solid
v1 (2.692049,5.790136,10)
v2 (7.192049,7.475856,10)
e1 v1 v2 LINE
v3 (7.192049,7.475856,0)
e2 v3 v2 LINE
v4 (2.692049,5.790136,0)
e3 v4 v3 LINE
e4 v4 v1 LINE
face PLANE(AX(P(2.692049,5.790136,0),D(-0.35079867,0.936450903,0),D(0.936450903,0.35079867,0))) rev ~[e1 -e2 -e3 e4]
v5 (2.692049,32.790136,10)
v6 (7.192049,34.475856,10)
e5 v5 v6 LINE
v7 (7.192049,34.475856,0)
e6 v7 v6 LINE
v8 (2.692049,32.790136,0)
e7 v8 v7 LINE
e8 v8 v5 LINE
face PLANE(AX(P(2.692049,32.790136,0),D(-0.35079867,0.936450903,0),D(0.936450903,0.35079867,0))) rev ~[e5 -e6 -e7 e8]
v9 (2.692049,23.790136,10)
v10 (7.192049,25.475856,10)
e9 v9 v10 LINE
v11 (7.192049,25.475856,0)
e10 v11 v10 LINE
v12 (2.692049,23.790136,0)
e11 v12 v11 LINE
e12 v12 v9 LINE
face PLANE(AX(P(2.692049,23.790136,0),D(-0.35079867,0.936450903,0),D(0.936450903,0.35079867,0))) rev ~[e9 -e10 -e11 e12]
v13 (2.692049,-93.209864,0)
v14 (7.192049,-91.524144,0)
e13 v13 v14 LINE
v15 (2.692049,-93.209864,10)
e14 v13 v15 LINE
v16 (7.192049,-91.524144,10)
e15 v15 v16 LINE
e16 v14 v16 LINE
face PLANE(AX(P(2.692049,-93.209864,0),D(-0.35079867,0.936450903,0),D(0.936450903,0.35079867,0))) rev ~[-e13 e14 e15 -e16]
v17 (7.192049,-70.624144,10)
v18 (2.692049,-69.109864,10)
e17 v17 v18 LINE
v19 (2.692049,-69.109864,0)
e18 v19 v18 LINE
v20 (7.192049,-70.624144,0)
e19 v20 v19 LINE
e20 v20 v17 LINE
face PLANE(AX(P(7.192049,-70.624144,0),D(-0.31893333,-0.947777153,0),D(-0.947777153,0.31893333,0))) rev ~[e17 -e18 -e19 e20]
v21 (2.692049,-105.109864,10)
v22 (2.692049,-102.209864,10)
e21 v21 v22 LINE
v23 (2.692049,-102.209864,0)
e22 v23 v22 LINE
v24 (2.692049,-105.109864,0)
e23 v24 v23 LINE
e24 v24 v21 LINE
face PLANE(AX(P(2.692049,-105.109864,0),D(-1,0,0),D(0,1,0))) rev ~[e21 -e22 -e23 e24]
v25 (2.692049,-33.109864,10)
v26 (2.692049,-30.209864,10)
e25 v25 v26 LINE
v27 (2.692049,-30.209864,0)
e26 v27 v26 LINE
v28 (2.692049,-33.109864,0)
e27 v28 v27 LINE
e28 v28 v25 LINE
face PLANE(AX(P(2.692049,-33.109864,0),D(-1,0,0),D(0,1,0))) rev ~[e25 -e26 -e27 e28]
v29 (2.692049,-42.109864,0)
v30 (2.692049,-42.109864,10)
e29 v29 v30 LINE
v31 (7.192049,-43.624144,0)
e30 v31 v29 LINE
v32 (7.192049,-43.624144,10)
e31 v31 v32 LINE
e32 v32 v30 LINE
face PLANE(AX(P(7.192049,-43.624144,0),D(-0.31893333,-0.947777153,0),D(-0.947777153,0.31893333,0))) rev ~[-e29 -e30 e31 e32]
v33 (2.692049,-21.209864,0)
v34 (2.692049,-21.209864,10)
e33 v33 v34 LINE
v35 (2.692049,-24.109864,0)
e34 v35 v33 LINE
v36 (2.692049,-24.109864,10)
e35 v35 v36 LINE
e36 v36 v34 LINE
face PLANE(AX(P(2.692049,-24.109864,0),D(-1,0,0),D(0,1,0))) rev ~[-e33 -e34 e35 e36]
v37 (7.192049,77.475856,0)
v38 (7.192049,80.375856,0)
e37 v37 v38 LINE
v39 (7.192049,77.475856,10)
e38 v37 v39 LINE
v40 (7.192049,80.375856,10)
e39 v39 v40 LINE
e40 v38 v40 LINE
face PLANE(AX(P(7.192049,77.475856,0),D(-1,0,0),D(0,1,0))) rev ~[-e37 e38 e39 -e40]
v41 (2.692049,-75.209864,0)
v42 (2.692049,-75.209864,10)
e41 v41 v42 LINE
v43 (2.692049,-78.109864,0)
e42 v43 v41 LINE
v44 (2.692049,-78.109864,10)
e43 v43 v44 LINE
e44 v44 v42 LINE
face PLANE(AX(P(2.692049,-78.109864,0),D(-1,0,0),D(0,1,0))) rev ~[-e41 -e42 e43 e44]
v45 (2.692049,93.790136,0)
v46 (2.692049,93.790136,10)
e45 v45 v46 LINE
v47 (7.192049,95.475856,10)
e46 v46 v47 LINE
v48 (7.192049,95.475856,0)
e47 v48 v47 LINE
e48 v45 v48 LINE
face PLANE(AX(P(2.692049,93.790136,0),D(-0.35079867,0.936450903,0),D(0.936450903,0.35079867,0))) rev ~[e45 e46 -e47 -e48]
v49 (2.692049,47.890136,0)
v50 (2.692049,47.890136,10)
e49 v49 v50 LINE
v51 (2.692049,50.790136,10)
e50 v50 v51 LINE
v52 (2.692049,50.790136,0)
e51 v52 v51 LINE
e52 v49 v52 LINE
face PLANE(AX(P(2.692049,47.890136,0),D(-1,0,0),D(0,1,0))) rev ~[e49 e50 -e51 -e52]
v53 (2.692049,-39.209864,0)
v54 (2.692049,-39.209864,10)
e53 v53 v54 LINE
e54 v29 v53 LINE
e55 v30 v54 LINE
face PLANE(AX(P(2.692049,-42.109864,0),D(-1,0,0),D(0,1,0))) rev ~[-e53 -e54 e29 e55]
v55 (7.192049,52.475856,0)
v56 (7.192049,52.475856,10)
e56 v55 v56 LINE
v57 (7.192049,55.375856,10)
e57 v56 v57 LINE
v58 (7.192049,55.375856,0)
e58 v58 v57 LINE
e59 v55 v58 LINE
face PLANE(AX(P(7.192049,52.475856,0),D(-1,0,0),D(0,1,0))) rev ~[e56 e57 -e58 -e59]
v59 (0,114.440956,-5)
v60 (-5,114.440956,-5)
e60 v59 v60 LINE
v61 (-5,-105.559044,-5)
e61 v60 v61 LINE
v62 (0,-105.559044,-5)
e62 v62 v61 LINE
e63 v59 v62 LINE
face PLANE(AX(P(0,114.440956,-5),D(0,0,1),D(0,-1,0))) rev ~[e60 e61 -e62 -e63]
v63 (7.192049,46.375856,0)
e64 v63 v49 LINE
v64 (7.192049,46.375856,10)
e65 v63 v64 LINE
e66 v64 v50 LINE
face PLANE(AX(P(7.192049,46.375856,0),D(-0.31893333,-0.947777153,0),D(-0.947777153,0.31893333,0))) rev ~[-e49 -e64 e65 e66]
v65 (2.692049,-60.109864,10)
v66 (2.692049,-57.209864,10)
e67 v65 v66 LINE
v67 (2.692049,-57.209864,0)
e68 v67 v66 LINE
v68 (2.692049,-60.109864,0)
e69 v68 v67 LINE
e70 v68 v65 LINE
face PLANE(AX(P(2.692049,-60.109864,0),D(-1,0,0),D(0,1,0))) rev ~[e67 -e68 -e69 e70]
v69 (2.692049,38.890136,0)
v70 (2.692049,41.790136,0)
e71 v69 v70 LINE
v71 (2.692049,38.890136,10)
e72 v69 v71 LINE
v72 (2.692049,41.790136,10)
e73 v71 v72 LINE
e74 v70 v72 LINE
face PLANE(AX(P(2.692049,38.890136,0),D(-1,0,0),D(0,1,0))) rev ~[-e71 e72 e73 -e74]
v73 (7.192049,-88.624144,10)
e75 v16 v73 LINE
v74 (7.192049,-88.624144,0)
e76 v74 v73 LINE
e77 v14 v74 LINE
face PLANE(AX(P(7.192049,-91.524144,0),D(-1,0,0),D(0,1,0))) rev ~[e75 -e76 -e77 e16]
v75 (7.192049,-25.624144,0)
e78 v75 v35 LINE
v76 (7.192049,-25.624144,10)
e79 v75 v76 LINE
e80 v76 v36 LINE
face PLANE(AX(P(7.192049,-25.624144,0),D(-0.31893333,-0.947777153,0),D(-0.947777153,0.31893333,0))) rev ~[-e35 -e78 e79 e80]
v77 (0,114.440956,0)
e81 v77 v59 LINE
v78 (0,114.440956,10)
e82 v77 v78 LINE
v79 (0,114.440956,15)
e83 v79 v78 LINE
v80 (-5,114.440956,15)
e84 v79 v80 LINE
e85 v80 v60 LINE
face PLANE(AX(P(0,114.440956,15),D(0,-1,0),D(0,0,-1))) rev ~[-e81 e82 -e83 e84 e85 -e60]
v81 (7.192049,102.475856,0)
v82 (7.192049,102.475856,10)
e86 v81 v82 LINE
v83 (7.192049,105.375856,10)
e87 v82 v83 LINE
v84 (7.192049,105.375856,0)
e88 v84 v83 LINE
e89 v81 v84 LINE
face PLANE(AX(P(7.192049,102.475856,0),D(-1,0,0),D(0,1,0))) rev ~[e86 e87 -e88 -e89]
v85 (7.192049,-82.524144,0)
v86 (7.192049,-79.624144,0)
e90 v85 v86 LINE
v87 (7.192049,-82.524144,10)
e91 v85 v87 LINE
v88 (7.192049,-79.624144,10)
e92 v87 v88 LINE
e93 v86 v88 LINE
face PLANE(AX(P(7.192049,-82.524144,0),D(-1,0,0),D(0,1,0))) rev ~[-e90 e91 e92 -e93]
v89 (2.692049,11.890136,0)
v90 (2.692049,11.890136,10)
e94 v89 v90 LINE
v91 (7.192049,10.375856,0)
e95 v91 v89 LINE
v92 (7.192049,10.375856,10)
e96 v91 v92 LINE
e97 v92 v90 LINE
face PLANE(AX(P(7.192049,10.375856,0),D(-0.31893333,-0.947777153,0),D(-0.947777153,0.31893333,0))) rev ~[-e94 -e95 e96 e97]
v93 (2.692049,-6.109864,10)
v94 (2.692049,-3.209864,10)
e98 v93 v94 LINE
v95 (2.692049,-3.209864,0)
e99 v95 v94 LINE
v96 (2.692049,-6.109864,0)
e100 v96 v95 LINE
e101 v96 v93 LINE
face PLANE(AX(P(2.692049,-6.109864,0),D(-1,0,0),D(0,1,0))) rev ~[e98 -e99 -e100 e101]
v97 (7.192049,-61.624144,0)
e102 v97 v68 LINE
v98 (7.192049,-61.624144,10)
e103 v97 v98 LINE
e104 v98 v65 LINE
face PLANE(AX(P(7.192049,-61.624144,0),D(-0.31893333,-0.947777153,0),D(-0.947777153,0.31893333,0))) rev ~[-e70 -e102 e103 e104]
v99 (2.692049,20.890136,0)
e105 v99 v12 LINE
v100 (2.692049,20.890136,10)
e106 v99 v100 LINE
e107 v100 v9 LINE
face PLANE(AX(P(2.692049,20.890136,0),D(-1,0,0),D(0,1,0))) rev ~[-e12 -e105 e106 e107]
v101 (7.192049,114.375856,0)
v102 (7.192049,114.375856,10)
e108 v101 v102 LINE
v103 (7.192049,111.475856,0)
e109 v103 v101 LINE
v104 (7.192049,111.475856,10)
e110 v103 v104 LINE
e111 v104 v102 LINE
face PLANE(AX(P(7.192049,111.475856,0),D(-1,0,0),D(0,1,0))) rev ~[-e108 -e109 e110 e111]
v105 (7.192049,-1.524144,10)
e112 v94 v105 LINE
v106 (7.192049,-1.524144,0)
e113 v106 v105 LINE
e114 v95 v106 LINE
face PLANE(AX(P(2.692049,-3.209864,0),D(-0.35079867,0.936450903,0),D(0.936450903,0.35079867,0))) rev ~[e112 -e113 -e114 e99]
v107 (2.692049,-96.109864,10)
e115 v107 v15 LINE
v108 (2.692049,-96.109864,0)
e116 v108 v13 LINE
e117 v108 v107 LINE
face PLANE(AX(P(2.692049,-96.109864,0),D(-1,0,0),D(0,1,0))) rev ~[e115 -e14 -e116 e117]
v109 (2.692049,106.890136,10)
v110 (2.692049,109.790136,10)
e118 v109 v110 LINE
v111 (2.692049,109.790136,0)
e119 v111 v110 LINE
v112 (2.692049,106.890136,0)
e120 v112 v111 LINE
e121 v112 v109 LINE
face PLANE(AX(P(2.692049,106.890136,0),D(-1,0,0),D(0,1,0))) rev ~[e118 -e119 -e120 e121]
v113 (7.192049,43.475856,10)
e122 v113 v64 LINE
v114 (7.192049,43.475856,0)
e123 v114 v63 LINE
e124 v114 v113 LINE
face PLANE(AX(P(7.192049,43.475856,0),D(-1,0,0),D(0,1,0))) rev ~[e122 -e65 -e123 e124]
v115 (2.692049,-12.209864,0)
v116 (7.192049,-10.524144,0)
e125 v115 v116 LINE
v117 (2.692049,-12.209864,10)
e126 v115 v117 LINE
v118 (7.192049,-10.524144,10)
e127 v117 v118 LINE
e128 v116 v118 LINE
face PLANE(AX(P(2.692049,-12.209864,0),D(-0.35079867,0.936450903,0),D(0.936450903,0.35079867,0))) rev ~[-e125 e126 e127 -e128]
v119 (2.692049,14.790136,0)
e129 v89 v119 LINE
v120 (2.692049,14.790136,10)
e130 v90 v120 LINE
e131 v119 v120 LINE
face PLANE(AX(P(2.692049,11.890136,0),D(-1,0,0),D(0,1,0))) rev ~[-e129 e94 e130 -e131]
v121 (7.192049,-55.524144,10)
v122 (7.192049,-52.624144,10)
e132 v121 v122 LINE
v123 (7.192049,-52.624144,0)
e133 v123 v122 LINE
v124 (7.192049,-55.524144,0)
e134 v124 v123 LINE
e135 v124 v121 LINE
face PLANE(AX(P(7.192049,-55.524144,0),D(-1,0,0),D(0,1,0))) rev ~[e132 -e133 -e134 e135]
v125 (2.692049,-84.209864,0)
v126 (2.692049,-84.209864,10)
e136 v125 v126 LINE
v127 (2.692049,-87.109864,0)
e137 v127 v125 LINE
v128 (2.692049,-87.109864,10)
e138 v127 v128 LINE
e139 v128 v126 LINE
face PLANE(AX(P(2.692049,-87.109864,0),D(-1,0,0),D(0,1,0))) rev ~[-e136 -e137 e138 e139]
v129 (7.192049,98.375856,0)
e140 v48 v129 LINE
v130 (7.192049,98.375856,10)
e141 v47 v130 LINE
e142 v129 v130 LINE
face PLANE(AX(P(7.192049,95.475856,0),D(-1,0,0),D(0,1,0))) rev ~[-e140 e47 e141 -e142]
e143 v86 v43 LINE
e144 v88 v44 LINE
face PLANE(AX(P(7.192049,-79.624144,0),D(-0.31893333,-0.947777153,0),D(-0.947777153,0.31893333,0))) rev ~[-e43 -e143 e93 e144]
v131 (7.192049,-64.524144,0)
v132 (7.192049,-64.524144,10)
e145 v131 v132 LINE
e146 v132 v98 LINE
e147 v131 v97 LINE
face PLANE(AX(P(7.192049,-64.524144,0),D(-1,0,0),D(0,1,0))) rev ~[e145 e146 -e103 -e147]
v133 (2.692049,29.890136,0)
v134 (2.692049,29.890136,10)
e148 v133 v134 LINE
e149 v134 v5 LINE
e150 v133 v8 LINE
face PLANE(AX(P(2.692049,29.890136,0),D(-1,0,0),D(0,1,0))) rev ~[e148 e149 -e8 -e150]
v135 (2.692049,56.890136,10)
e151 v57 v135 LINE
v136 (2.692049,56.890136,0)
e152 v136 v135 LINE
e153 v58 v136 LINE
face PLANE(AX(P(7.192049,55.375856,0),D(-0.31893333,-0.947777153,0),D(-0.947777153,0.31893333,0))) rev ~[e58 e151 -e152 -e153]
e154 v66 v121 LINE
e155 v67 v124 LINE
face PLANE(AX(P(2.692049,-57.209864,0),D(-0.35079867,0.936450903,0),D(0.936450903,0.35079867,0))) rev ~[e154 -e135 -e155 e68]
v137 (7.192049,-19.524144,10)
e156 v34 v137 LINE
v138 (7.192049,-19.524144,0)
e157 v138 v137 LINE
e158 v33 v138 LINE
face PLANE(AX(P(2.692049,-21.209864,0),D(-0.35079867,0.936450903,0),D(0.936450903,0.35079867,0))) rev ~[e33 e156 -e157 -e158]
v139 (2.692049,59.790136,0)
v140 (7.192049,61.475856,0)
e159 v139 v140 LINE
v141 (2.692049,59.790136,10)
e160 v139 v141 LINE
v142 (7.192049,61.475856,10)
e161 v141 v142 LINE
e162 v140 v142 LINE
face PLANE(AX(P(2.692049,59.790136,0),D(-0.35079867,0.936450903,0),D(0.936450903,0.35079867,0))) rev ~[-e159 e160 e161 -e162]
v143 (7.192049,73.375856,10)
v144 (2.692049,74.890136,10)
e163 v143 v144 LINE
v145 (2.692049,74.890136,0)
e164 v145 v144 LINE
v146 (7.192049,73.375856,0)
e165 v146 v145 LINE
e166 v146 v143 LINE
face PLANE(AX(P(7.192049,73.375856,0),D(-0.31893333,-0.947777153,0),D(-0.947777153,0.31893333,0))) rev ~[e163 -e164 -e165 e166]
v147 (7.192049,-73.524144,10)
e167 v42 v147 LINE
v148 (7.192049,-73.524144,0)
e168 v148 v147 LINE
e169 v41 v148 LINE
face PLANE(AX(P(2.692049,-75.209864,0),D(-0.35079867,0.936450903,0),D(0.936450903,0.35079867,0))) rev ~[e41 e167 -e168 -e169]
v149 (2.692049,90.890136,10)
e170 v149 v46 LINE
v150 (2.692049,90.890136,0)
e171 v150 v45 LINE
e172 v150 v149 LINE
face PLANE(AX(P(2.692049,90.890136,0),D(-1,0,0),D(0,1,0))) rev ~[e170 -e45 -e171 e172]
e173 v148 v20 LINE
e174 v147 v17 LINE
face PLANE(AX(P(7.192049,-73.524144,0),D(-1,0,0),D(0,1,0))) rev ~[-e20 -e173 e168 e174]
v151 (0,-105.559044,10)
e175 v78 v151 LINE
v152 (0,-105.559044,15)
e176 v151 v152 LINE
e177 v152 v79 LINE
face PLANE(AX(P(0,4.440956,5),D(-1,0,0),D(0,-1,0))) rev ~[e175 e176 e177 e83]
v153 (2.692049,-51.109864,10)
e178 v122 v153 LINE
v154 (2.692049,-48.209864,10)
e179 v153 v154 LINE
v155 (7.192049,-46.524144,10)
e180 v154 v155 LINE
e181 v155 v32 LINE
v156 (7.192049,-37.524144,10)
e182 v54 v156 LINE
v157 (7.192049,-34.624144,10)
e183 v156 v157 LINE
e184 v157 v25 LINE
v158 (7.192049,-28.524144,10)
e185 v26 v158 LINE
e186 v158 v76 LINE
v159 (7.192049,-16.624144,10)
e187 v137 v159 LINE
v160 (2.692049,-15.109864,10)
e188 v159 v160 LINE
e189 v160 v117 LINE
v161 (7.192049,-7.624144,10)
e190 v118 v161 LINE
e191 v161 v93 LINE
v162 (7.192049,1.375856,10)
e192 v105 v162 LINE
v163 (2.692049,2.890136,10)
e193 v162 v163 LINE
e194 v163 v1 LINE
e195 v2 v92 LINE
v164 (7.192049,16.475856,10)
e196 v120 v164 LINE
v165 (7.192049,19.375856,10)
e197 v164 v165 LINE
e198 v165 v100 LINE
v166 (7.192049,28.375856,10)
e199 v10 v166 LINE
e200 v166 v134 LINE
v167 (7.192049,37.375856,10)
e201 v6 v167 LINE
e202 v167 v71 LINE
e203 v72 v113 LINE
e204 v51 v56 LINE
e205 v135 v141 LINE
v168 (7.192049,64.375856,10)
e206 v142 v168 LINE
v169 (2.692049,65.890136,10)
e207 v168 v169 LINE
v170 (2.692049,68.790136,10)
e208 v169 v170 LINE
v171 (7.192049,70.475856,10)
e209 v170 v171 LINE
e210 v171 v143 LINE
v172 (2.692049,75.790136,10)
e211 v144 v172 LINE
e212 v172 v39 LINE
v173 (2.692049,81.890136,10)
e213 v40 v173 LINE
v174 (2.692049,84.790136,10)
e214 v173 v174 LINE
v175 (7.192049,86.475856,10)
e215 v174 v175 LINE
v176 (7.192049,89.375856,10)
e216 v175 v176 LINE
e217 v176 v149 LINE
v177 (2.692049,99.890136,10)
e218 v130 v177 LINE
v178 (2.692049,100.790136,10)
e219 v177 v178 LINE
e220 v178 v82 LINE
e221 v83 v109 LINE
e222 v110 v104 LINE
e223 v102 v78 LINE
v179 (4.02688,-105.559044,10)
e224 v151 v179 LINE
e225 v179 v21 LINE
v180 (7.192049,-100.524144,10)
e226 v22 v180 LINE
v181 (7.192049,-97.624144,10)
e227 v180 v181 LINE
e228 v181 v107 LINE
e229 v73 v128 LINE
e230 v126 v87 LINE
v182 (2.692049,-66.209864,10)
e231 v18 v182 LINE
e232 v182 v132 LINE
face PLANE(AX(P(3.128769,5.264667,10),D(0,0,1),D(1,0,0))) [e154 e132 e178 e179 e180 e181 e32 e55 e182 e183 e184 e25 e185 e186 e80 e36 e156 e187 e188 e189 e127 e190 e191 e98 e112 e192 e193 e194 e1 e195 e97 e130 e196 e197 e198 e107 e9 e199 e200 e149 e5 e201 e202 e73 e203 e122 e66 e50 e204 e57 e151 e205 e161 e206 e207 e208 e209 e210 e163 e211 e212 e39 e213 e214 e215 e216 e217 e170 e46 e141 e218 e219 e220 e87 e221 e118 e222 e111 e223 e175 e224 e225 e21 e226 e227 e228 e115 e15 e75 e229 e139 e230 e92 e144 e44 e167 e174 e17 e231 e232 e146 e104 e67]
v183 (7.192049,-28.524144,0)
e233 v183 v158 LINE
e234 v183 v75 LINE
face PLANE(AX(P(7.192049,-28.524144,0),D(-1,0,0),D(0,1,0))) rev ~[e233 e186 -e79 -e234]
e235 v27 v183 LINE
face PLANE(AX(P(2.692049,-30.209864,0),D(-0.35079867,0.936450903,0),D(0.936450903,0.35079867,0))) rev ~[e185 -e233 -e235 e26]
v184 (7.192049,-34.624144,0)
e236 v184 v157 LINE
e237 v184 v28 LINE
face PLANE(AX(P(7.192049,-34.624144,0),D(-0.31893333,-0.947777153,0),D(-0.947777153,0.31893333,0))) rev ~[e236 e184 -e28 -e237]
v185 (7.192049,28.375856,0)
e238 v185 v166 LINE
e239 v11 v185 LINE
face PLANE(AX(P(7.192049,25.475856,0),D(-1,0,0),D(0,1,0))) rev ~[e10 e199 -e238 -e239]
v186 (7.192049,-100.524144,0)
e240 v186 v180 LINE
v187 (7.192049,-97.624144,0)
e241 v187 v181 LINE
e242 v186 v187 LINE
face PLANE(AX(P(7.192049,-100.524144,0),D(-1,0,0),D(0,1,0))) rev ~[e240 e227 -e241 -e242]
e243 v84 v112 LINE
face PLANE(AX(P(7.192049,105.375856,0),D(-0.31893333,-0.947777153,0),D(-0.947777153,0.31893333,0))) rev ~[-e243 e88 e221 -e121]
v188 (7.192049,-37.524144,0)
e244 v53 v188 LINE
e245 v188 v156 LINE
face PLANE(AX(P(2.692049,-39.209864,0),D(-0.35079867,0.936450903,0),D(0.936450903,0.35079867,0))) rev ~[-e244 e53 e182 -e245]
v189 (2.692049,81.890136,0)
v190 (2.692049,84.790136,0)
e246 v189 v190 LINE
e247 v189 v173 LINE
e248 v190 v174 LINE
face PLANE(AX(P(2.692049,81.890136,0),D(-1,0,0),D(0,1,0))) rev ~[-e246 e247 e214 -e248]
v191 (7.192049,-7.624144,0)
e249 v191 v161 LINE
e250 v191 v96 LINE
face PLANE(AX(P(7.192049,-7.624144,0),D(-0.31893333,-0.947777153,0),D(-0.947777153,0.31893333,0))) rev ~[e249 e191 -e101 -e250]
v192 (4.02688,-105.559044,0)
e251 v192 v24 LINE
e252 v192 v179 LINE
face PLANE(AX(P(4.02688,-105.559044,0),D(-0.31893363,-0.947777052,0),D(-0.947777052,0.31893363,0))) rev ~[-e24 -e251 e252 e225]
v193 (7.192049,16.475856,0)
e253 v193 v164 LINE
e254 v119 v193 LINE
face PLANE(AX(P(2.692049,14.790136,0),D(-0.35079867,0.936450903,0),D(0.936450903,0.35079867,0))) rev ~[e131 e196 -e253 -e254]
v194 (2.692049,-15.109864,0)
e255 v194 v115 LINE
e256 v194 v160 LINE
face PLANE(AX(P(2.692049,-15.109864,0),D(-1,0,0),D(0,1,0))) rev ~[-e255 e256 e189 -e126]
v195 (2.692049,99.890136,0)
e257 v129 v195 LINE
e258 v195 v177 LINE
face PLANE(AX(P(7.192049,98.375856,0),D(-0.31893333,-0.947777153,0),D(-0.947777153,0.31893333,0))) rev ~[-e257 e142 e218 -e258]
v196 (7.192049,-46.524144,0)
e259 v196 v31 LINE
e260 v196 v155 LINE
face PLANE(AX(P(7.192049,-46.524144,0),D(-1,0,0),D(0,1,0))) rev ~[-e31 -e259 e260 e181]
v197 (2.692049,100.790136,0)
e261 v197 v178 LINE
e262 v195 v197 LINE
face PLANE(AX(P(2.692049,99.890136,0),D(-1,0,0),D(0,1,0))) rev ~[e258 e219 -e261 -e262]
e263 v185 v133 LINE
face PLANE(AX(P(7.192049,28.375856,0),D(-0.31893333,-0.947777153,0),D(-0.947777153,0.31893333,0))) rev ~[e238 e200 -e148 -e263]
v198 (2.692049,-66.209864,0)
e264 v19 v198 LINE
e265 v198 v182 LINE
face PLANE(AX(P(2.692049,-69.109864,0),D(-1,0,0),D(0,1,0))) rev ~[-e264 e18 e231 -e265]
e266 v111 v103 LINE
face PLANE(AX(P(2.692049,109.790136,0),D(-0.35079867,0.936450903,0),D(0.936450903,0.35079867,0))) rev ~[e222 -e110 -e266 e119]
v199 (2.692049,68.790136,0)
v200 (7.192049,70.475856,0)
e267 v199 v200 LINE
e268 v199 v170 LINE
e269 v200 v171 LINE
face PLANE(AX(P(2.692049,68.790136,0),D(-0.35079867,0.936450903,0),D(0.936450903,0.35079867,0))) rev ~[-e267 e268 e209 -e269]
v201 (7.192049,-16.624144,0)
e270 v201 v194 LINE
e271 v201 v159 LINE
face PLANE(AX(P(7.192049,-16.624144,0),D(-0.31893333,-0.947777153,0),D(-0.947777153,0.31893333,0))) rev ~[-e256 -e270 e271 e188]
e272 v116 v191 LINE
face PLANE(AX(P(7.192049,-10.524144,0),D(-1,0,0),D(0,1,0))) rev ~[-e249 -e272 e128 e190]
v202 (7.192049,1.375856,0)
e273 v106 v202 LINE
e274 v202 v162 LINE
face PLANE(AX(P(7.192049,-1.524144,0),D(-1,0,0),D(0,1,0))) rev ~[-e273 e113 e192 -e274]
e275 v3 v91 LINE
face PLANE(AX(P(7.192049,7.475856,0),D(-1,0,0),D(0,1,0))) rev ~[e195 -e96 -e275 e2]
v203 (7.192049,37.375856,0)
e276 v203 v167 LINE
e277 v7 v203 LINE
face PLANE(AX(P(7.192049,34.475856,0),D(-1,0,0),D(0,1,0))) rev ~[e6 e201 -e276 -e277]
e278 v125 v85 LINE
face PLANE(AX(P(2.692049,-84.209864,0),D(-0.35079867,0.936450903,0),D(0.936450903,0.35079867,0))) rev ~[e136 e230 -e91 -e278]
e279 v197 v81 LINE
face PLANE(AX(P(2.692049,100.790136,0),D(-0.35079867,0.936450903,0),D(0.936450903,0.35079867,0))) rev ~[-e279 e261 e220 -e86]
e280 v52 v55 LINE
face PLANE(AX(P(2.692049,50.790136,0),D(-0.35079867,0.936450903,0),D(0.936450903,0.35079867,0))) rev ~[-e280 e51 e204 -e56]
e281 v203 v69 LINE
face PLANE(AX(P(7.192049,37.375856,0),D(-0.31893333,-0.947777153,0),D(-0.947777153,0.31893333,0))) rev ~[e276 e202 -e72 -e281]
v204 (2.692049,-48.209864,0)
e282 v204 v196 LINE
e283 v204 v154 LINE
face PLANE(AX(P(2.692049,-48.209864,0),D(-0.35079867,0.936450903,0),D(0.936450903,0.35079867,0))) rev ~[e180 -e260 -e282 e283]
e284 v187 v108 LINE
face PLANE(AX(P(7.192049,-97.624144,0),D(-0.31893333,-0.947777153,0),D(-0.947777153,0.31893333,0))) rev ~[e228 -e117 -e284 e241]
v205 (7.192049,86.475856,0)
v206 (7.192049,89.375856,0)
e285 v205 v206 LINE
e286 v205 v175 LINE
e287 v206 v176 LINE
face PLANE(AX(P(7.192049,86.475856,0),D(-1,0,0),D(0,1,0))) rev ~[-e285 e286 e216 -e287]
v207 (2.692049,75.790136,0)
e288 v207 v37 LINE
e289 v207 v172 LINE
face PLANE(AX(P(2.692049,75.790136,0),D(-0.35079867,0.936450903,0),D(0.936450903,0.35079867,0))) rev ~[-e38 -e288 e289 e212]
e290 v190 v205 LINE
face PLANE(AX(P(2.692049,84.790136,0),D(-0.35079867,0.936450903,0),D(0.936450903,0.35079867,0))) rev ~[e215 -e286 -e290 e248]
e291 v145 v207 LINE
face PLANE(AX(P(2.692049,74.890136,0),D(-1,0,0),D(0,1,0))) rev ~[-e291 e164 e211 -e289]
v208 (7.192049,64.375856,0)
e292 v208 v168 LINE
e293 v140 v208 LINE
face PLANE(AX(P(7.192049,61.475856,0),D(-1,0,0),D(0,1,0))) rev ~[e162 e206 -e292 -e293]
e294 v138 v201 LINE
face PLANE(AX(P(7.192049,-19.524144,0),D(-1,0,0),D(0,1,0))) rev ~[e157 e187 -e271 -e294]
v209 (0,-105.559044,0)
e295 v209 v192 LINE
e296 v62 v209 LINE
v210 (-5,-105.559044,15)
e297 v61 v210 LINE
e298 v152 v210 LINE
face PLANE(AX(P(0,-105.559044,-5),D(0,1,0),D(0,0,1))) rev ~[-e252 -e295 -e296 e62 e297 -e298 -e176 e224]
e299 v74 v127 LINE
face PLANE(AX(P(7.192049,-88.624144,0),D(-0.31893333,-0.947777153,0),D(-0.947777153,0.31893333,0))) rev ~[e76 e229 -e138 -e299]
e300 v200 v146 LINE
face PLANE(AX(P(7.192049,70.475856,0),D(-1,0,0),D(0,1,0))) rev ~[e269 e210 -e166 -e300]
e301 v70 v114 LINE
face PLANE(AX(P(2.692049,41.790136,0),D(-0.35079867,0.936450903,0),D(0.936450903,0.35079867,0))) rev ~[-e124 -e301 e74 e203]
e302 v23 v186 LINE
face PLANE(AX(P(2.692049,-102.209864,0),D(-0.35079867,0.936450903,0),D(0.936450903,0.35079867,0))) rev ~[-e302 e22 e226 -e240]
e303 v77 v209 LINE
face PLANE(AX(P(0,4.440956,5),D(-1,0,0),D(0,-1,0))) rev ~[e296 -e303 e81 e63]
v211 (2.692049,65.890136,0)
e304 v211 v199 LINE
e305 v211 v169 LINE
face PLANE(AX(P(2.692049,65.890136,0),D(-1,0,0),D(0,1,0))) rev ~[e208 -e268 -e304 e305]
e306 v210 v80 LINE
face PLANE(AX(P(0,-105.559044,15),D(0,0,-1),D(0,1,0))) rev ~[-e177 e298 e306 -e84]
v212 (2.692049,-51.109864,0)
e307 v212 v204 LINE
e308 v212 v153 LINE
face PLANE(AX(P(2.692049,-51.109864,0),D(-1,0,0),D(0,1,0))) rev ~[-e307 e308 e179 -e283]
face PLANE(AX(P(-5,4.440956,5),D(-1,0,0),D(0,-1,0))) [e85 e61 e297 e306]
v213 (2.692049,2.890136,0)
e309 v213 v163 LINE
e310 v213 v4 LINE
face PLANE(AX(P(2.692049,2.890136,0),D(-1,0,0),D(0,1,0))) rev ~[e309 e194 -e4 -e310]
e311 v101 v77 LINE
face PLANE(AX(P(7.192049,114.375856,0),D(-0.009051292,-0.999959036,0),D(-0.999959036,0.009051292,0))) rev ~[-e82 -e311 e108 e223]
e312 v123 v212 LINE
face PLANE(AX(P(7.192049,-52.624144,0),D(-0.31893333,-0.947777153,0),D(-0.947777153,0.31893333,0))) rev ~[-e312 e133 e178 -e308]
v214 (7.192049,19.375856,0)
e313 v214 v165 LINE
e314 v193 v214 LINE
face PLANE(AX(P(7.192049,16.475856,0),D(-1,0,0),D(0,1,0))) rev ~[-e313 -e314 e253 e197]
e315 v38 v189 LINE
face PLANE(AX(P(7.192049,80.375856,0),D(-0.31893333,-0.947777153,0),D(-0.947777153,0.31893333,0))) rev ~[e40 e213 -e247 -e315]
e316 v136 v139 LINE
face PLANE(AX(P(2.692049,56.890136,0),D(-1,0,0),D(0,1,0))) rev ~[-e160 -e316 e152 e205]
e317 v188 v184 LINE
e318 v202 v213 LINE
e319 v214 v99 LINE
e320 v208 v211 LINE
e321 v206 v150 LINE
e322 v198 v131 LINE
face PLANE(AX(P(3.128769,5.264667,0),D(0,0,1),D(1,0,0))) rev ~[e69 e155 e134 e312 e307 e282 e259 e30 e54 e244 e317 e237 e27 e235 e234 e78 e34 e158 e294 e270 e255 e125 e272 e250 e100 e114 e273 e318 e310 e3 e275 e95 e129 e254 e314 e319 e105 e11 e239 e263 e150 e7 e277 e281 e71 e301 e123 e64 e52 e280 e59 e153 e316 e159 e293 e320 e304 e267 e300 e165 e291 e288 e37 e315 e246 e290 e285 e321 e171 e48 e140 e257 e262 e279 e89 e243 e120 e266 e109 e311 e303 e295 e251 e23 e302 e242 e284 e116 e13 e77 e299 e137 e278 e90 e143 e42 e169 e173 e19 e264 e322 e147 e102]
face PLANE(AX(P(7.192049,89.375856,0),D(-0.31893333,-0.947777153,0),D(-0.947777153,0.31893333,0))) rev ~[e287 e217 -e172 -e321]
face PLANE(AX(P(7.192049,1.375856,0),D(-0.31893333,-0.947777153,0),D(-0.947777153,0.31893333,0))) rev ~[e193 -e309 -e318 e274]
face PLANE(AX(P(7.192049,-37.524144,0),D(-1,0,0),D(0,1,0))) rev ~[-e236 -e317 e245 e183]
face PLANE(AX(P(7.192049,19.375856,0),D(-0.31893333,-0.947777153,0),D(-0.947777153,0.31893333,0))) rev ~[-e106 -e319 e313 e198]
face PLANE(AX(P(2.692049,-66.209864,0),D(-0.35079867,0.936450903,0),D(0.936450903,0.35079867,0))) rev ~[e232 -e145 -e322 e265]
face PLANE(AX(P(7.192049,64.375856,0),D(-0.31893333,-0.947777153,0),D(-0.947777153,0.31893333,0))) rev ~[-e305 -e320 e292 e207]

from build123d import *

# Parameters (mm, degrees)
F1_DEPTH = 10
F3_DEPTH = 5


with BuildPart() as f1:
    # F0 (on Top) → F1 (new body)
    with BuildSketch(Plane.XY):
        Polygon((7.192049, 114.375856), (0, 114.440956), (0, -105.559044), (4.02688, -105.559044), (2.692049, -105.109864), (2.692049, -102.209864), (7.192049, -100.524144), (7.192049, -97.624144), (2.692049, -96.109864), (2.692049, -93.209864), (7.192049, -91.524144), (7.192049, -88.624144), (2.692049, -87.109864), (2.692049, -84.209864), (7.192049, -82.524144), (7.192049, -79.624144), (2.692049, -78.109864), (2.692049, -75.209864), (7.192049, -73.524144), (7.192049, -70.624144), (2.692049, -69.109864), (2.692049, -66.209864), (7.192049, -64.524144), (7.192049, -61.624144), (2.692049, -60.109864), (2.692049, -57.209864), (7.192049, -55.524144), (7.192049, -52.624144), (2.692049, -51.109864), (2.692049, -48.209864), (7.192049, -46.524144), (7.192049, -43.624144), (2.692049, -42.109864), (2.692049, -39.209864), (7.192049, -37.524144), (7.192049, -34.624144), (2.692049, -33.109864), (2.692049, -30.209864), (7.192049, -28.524144), (7.192049, -25.624144), (2.692049, -24.109864), (2.692049, -21.209864), (7.192049, -19.524144), (7.192049, -16.624144), (2.692049, -15.109864), (2.692049, -12.209864), (7.192049, -10.524144), (7.192049, -7.624144), (2.692049, -6.109864), (2.692049, -3.209864), (7.192049, -1.524144), (7.192049, 1.375856), (2.692049, 2.890136), (2.692049, 5.790136), (7.192049, 7.475856), (7.192049, 10.375856), (2.692049, 11.890136), (2.692049, 14.790136), (7.192049, 16.475856), (7.192049, 19.375856), (2.692049, 20.890136), (2.692049, 23.790136), (7.192049, 25.475856), (7.192049, 28.375856), (2.692049, 29.890136), (2.692049, 32.790136), (7.192049, 34.475856), (7.192049, 37.375856), (2.692049, 38.890136), (2.692049, 41.790136), (7.192049, 43.475856), (7.192049, 46.375856), (2.692049, 47.890136), (2.692049, 50.790136), (7.192049, 52.475856), (7.192049, 55.375856), (2.692049, 56.890136), (2.692049, 59.790136), (7.192049, 61.475856), (7.192049, 64.375856), (2.692049, 65.890136), (2.692049, 68.790136), (7.192049, 70.475856), (7.192049, 73.375856), (2.692049, 74.890136), (2.692049, 75.790136), (7.192049, 77.475856), (7.192049, 80.375856), (2.692049, 81.890136), (2.692049, 84.790136), (7.192049, 86.475856), (7.192049, 89.375856), (2.692049, 90.890136), (2.692049, 93.790136), (7.192049, 95.475856), (7.192049, 98.375856), (2.692049, 99.890136), (2.692049, 100.790136), (7.192049, 102.475856), (7.192049, 105.375856), (2.692049, 106.890136), (2.692049, 109.790136), (7.192049, 111.475856), align=None)
    extrude(amount=F1_DEPTH)

    # F2 (on face) → F3 (join)
    with BuildSketch(Plane(origin=(0, 0, 0), x_dir=(0, -1, 0), z_dir=(-1, 0, 0))):
        Polygon((-114.440956, 15), (-114.440956, 5), (-114.440956, -5), (105.559044, -5), (105.559044, 5), (105.559044, 15), align=None)
    extrude(amount=F3_DEPTH)


solid = f1.part
